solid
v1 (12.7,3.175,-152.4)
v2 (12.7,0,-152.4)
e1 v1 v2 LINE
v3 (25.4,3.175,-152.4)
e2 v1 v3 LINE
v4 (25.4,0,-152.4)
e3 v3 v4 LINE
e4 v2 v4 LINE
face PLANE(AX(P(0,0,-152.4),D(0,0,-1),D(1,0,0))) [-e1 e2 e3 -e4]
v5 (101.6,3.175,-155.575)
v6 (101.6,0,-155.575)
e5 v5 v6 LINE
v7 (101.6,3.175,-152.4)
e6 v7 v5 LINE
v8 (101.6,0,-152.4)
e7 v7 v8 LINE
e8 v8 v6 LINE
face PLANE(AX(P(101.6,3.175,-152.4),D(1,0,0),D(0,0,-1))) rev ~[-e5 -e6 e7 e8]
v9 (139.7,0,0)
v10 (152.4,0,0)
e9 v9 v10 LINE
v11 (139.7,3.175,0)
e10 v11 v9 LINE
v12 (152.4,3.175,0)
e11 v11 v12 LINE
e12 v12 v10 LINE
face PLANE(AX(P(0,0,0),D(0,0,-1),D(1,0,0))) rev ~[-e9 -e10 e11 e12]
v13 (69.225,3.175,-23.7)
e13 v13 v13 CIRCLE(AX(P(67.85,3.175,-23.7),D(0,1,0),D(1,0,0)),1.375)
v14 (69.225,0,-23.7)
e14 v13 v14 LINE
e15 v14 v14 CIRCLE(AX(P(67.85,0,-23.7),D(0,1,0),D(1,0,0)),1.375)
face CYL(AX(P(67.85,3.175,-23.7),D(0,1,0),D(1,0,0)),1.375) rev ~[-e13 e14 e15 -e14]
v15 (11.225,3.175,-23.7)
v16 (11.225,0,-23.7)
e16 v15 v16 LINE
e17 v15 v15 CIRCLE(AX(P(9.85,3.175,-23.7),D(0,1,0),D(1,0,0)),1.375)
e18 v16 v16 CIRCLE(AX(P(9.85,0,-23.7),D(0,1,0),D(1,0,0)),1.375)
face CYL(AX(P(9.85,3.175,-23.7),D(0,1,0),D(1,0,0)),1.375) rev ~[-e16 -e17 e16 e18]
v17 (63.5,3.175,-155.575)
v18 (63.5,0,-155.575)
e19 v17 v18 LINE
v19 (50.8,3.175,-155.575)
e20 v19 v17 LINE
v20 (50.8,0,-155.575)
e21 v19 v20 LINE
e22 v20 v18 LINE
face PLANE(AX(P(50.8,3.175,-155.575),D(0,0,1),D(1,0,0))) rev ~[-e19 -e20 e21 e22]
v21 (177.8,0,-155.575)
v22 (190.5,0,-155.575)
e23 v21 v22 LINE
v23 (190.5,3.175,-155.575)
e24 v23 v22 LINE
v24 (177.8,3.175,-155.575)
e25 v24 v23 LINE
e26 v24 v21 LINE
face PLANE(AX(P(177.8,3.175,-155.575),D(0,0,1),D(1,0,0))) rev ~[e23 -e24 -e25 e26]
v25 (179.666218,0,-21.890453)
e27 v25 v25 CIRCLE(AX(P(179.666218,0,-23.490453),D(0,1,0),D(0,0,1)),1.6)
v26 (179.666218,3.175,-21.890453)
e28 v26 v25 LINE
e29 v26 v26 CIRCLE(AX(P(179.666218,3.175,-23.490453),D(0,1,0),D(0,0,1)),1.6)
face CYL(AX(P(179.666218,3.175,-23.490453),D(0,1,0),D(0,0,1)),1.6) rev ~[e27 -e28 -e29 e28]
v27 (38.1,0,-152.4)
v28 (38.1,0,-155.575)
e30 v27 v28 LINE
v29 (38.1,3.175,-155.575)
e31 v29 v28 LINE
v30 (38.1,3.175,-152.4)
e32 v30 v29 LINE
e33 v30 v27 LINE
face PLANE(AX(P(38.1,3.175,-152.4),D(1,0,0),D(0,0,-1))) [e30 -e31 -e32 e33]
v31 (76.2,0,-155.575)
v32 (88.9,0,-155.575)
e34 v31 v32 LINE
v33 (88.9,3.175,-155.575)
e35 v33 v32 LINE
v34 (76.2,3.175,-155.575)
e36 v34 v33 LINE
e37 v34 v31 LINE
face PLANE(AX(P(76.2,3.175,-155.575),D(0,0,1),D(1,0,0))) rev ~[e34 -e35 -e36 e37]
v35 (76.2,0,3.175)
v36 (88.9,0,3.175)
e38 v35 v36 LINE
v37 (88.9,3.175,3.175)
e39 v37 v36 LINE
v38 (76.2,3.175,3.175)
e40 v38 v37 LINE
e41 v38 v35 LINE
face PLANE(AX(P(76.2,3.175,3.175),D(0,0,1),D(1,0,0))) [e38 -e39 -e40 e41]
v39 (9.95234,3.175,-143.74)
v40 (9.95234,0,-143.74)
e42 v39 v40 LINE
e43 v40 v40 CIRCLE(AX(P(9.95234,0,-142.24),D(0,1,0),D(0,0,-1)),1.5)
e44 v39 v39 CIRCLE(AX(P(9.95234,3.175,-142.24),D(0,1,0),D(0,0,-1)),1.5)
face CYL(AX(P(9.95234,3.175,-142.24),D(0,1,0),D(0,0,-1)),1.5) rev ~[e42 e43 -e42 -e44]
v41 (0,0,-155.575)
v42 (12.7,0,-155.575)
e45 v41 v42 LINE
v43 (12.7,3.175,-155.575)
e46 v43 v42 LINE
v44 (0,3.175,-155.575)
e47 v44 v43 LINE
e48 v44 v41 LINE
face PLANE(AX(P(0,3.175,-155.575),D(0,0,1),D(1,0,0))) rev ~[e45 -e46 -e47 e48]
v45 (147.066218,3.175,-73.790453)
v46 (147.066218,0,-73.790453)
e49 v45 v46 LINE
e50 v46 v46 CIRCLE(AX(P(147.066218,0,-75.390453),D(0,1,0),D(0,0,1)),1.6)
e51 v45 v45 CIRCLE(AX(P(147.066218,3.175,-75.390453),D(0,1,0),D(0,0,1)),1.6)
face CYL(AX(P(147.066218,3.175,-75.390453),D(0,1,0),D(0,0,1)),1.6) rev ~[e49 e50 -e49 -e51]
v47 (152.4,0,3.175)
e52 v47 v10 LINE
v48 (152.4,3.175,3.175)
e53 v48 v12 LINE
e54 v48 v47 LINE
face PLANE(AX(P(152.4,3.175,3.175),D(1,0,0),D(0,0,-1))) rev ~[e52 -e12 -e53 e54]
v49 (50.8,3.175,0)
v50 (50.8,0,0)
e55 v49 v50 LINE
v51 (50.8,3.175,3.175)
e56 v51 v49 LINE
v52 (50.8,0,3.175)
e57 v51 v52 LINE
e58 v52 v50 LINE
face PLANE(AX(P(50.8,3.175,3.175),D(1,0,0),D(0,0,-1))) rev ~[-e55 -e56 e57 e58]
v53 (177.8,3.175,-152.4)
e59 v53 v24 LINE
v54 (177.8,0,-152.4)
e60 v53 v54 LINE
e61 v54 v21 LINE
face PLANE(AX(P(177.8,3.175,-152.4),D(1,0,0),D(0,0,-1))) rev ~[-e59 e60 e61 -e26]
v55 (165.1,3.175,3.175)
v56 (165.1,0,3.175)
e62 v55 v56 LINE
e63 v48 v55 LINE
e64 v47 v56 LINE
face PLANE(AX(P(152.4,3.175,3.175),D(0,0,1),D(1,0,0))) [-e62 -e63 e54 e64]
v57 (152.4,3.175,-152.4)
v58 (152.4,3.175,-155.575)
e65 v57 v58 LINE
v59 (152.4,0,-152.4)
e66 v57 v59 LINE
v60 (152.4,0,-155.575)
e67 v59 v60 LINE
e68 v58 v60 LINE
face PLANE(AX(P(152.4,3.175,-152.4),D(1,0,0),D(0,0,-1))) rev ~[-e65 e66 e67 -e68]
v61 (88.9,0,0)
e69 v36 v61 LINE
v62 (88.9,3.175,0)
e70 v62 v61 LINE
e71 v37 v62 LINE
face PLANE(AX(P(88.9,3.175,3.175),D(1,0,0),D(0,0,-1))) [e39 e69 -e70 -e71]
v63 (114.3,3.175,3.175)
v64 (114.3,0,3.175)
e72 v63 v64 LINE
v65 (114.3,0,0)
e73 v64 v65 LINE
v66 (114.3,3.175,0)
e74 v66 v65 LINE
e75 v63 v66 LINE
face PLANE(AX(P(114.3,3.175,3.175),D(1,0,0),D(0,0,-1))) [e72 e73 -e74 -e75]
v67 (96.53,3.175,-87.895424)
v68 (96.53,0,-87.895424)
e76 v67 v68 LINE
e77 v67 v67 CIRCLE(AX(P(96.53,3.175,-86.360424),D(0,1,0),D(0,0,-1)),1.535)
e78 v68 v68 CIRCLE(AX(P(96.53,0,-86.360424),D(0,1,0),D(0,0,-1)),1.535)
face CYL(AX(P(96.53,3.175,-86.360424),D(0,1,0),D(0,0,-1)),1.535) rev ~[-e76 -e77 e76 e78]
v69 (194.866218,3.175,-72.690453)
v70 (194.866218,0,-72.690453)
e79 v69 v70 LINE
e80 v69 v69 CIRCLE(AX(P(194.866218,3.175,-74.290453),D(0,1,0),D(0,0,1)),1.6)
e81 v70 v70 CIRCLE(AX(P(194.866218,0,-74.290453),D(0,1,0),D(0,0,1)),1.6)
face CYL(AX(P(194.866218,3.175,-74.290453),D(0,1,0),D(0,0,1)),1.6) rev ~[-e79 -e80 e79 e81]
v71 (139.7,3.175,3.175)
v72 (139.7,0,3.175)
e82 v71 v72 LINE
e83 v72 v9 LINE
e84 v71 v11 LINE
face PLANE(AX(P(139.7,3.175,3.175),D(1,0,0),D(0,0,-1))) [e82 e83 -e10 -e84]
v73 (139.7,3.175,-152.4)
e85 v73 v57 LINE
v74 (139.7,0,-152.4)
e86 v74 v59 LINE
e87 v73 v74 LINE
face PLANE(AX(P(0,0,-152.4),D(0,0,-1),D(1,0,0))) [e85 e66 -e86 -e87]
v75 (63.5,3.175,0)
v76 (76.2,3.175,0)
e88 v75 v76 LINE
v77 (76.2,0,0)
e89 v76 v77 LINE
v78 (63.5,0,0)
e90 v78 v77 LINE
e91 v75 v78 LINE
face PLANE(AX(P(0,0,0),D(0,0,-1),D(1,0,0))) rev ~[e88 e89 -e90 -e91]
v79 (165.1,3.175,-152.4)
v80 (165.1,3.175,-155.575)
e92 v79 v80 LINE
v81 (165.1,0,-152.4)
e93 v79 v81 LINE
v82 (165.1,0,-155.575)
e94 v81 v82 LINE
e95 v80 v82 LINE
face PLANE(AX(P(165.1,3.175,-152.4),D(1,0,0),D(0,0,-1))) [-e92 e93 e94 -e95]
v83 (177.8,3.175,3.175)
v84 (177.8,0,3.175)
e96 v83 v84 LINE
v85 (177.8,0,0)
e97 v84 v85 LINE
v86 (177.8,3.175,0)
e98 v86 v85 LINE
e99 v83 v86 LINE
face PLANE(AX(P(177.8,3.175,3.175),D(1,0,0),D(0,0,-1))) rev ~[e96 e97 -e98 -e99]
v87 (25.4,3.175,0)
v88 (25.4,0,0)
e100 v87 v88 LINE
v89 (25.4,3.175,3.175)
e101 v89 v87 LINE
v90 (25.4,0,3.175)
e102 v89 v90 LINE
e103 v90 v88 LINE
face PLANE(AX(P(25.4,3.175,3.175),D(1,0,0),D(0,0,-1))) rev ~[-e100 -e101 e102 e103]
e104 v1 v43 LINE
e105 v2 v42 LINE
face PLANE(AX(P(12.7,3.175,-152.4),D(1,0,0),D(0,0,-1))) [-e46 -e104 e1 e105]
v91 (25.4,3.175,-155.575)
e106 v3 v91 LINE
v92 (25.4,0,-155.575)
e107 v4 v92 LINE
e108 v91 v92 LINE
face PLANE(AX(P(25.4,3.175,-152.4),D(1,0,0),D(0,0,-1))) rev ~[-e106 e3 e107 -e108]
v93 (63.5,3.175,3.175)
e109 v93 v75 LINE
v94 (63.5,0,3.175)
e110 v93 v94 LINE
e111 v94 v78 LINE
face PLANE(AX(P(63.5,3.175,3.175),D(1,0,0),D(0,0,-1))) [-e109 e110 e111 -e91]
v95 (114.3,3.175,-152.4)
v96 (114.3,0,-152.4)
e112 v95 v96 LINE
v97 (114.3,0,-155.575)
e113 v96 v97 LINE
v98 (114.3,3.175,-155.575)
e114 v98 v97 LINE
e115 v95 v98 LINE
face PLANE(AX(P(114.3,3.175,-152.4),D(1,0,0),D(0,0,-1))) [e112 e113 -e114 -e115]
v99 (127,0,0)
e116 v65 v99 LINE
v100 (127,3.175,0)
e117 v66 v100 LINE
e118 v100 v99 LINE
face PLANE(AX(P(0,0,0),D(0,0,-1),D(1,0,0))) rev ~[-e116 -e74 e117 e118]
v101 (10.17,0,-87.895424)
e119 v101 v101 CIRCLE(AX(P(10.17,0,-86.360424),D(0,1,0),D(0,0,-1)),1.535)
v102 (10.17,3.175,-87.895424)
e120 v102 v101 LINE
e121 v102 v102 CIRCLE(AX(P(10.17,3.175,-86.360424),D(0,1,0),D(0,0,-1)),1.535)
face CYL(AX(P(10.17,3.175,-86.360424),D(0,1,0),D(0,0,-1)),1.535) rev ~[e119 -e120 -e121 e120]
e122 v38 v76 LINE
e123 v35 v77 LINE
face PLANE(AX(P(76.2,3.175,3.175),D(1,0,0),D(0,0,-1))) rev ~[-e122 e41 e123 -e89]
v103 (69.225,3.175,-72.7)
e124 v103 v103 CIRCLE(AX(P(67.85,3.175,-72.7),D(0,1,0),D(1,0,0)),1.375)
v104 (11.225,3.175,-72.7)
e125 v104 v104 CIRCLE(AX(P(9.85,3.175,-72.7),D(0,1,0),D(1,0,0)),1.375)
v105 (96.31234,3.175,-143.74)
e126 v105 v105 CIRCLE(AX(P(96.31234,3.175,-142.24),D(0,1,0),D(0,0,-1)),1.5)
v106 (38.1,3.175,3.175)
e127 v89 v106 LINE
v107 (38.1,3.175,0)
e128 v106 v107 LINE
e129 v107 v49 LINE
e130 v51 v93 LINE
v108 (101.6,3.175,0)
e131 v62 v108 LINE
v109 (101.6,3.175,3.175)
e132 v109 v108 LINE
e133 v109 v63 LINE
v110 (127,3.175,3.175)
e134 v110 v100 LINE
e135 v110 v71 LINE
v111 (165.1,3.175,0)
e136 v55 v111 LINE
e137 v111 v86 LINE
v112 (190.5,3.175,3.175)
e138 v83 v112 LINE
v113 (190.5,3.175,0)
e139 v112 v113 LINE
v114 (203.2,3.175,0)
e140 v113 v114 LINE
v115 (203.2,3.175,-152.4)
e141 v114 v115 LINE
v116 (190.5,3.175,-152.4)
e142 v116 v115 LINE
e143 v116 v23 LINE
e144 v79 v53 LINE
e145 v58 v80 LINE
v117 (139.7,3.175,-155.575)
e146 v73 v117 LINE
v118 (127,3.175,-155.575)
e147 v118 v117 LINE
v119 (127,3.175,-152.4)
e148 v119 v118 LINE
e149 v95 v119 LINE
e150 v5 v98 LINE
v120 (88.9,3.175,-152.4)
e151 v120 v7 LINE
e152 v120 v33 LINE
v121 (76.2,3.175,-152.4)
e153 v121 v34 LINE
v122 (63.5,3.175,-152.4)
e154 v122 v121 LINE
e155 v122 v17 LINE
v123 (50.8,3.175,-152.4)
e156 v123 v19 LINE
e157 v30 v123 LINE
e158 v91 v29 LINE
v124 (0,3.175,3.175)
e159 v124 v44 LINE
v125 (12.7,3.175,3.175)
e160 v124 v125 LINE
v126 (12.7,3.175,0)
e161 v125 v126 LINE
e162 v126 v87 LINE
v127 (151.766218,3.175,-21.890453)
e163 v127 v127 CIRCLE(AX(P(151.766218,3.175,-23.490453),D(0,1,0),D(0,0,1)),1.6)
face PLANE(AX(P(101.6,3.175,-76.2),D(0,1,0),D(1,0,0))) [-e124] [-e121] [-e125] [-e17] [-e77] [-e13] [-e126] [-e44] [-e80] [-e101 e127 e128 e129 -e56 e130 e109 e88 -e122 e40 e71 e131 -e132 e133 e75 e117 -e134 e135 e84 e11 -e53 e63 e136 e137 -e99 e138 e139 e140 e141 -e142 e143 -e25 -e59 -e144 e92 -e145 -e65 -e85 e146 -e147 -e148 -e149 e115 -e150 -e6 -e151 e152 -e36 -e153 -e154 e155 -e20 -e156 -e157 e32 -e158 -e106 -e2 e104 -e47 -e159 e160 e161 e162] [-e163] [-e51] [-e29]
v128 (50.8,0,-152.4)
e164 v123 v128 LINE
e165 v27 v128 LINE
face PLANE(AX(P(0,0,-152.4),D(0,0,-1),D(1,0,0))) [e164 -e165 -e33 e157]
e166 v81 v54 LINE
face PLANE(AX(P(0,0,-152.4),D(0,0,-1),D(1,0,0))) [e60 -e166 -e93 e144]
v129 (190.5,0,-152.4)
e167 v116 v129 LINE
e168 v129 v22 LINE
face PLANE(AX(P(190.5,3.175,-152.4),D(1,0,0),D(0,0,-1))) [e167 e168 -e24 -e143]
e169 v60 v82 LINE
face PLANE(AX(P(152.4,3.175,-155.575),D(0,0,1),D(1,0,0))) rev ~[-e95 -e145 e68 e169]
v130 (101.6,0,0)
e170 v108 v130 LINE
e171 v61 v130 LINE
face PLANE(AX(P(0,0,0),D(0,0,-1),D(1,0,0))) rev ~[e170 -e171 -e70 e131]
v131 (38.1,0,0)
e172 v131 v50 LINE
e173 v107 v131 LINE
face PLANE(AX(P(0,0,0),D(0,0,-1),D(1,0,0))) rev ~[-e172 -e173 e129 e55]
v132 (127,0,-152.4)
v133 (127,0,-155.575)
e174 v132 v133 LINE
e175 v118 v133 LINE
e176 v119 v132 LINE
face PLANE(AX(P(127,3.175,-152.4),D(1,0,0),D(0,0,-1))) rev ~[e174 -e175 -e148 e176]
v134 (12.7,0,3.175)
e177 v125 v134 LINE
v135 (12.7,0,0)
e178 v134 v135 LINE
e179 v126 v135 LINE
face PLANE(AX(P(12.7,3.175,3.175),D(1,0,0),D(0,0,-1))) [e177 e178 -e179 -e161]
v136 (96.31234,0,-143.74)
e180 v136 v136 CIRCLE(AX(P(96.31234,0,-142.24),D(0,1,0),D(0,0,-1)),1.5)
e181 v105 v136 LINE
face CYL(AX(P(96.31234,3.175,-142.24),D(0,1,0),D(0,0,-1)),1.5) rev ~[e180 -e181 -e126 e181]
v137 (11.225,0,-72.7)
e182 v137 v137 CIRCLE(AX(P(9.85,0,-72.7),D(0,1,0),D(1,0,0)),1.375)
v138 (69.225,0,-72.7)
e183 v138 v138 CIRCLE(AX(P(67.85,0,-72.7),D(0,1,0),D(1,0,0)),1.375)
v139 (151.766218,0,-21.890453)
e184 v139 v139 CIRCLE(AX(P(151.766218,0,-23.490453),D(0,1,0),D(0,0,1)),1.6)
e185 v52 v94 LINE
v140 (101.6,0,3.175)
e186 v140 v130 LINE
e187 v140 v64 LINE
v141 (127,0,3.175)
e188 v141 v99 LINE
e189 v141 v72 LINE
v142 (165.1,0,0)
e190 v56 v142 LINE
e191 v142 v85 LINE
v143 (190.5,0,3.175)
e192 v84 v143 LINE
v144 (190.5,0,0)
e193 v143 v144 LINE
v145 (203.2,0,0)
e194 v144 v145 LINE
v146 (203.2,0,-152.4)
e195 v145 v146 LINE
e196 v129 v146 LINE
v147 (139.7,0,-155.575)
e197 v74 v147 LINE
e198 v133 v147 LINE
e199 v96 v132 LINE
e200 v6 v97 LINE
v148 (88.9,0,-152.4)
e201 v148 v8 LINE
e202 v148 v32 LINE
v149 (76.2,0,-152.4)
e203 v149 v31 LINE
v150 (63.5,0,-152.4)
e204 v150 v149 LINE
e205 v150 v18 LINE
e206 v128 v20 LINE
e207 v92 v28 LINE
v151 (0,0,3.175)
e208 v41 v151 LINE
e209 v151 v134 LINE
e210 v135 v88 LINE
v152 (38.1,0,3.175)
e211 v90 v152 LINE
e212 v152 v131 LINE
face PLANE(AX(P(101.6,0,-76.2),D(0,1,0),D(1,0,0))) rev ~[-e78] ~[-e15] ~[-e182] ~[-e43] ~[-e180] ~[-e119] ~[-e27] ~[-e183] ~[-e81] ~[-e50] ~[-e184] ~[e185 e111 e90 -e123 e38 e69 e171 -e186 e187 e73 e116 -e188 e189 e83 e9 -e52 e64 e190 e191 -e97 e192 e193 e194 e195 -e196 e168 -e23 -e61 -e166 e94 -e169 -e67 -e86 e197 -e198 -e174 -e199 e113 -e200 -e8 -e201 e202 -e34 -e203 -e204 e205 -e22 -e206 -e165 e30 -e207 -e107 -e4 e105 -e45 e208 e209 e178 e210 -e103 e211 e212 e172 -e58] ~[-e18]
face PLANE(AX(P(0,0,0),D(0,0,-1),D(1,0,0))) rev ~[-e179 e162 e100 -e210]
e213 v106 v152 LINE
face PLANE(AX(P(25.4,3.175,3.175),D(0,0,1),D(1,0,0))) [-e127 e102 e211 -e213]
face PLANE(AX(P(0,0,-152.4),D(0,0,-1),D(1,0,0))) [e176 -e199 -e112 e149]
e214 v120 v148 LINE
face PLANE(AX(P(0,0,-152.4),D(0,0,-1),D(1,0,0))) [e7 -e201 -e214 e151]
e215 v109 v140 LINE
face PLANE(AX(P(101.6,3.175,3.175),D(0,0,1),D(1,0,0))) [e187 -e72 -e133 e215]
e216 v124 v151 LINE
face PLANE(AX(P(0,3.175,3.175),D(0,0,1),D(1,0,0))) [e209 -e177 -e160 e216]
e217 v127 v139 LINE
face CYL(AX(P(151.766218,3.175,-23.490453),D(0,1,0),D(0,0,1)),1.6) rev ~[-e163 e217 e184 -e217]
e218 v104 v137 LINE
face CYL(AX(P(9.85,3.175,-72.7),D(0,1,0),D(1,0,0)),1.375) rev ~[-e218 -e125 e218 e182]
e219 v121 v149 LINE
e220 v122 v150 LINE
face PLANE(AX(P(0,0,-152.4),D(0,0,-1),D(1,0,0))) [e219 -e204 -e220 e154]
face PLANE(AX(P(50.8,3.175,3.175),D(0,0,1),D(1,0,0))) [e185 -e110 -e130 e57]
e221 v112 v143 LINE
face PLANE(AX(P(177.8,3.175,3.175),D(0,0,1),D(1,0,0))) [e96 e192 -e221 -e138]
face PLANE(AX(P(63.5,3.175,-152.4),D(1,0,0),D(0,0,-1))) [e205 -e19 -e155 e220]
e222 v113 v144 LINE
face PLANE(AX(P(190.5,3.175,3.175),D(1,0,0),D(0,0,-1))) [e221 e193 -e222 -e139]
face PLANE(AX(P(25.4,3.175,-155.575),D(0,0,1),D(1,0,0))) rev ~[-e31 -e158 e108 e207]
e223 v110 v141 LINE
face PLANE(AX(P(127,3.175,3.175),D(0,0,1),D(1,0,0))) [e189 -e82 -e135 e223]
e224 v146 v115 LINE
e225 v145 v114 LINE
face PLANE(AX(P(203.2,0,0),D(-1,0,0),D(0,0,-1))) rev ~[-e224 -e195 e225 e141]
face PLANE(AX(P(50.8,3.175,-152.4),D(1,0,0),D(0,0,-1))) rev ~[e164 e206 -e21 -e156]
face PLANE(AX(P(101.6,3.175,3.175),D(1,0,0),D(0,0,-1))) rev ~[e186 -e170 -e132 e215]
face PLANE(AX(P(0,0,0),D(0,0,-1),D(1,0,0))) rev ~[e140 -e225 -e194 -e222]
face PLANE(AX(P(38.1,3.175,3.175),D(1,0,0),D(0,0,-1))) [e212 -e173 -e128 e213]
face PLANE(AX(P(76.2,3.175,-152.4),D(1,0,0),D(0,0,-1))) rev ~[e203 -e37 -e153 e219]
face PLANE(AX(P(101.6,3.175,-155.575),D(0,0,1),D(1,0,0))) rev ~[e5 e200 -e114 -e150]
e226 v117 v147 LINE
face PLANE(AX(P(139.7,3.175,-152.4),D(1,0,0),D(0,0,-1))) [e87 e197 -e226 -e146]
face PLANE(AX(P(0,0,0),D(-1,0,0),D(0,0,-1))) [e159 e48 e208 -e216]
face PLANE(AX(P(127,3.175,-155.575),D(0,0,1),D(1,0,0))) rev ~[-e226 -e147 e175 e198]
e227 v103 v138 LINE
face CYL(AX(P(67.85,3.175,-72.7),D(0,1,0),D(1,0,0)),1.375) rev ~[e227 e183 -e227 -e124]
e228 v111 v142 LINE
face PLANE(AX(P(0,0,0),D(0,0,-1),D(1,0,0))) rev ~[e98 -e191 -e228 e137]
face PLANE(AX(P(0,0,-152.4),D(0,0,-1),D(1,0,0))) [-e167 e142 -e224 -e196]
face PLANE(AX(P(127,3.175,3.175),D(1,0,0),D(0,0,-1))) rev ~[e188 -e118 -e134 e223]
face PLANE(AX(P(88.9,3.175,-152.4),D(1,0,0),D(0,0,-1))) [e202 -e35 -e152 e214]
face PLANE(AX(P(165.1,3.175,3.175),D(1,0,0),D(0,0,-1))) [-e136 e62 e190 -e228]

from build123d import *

# Parameters (mm, degrees)
SKETCH1_W               = 203.2
SKETCH1_H               = 152.4
BOSS_EXTRUDE1_DEPTH     = 3.175
SKETCH2_W               = 12.7
SKETCH2_H               = 3.175
BOSS_EXTRUDE2_DEPTH     = 3.175
BOSS_EXTRUDE2_2_DEPTH   = 3.175
BOSS_EXTRUDE2_3_DEPTH   = 3.175
BOSS_EXTRUDE2_4_DEPTH   = 3.175
BOSS_EXTRUDE2_5_DEPTH   = 3.175
BOSS_EXTRUDE2_6_DEPTH   = 3.175
BOSS_EXTRUDE2_7_DEPTH   = 3.175
BOSS_EXTRUDE2_8_DEPTH   = 3.175
BOSS_EXTRUDE2_9_DEPTH   = 3.175
BOSS_EXTRUDE2_10_DEPTH  = 3.175
BOSS_EXTRUDE2_11_DEPTH  = 3.175
BOSS_EXTRUDE2_12_DEPTH  = 3.175
BOSS_EXTRUDE2_13_DEPTH  = 3.175
BOSS_EXTRUDE2_14_DEPTH  = 3.175
BOSS_EXTRUDE2_15_DEPTH  = 3.175
BOSS_EXTRUDE2_16_DEPTH  = 3.175
SKETCH4_R               = 1.375
CUT_EXTRUDE1_DEPTH      = 4.175
SKETCH5_R               = 1.6
CUT_EXTRUDE2_DEPTH      = 4.175
SKETCH10_R              = 1.535
SKETCH10_R_2            = 1.5
CUT_EXTRUDE3_DEPTH      = 1
CUT_EXTRUDE3_DEPTH_BACK = 4.175


with BuildPart() as part:
    # Sketch1 → Boss-Extrude1 (new body)
    with BuildSketch(Plane(origin=(0, 0, 0), x_dir=(1, 0, 0), z_dir=(0, 1, 0))):
        with Locations((101.6, 76.2)):
            Rectangle(SKETCH1_W, SKETCH1_H)
    extrude(amount=BOSS_EXTRUDE1_DEPTH)

    # Sketch4 → Cut-Extrude1 (cut, through all)
    with BuildSketch(Plane(origin=(-65.618517222, 3.175, -114.528898402), x_dir=(1, 0, 0), z_dir=(0, 1, 0))):
        with Locations((75.468517222, -41.828898402)):
            Circle(SKETCH4_R)
        with Locations((75.468517222, -90.828898402)):
            Circle(SKETCH4_R)
        with Locations((133.468517222, -90.828898402)):
            Circle(SKETCH4_R)
        with Locations((133.468517222, -41.828898402)):
            Circle(SKETCH4_R)
    extrude(amount=-CUT_EXTRUDE1_DEPTH, mode=Mode.SUBTRACT)

    # Sketch5 → Cut-Extrude2 (cut, through all)
    with BuildSketch(Plane(origin=(-58.332709996, 3.175, -175.865858612), x_dir=(0, 0, 1), z_dir=(0, 1, 0))):
        with Locations((100.475405858, 205.398928035)):
            Circle(SKETCH5_R)
        with Locations((101.575405858, 253.198928035)):
            Circle(SKETCH5_R)
        with Locations((152.375405858, 210.098928035)):
            Circle(SKETCH5_R)
        with Locations((152.375405858, 237.998928035)):
            Circle(SKETCH5_R)
    extrude(amount=-CUT_EXTRUDE2_DEPTH, mode=Mode.SUBTRACT)

    # Sketch10 → Cut-Extrude3 (cut, two sides)
    with BuildSketch(Plane(origin=(154.738240667, 3.175, -89.784200023), x_dir=(0, 0, -1), z_dir=(0, 1, 0))) as cut_extrude3_sk:
        with Locations((-3.423776116, 144.568240667)):
            Circle(SKETCH10_R)
        with Locations((52.455799977, 144.785900219)):
            Circle(SKETCH10_R_2)
        with Locations((-3.423776116, 58.208240667)):
            Circle(SKETCH10_R)
        with Locations((52.455799977, 58.425900219)):
            Circle(SKETCH10_R_2)
    extrude(amount=CUT_EXTRUDE3_DEPTH, mode=Mode.SUBTRACT)
    extrude(cut_extrude3_sk.sketch, amount=-CUT_EXTRUDE3_DEPTH_BACK, mode=Mode.SUBTRACT)


with BuildPart() as body_2:
    # Sketch2 → Boss-Extrude2 (new body)
    with BuildSketch(Plane(origin=(0, 3.175, 0), x_dir=(1, 0, 0), z_dir=(0, 1, 0))):
        with Locations((31.75, -1.5875)):
            Rectangle(SKETCH2_W, SKETCH2_H)
    extrude(amount=-BOSS_EXTRUDE2_DEPTH)


with BuildPart() as body_3:
    # Sketch2 → Boss-Extrude2 2 (new body)
    with BuildSketch(Plane(origin=(0, 3.175, 0), x_dir=(1, 0, 0), z_dir=(0, 1, 0))):
        with Locations((6.35, -1.5875)):
            Rectangle(SKETCH2_W, SKETCH2_H)
    extrude(amount=-BOSS_EXTRUDE2_2_DEPTH)


with BuildPart() as body_4:
    # Sketch2 → Boss-Extrude2 3 (new body)
    with BuildSketch(Plane(origin=(0, 3.175, 0), x_dir=(1, 0, 0), z_dir=(0, 1, 0))):
        with Locations((57.15, -1.5875)):
            Rectangle(SKETCH2_W, SKETCH2_H)
    extrude(amount=-BOSS_EXTRUDE2_3_DEPTH)


with BuildPart() as body_5:
    # Sketch2 → Boss-Extrude2 4 (new body)
    with BuildSketch(Plane(origin=(0, 3.175, 0), x_dir=(1, 0, 0), z_dir=(0, 1, 0))):
        with Locations((82.55, -1.5875)):
            Rectangle(SKETCH2_W, SKETCH2_H)
    extrude(amount=-BOSS_EXTRUDE2_4_DEPTH)


with BuildPart() as body_6:
    # Sketch2 → Boss-Extrude2 5 (new body)
    with BuildSketch(Plane(origin=(0, 3.175, 0), x_dir=(1, 0, 0), z_dir=(0, 1, 0))):
        with Locations((107.95, -1.5875)):
            Rectangle(SKETCH2_W, SKETCH2_H)
    extrude(amount=-BOSS_EXTRUDE2_5_DEPTH)


with BuildPart() as body_7:
    # Sketch2 → Boss-Extrude2 6 (new body)
    with BuildSketch(Plane(origin=(0, 3.175, 0), x_dir=(1, 0, 0), z_dir=(0, 1, 0))):
        with Locations((133.35, -1.5875)):
            Rectangle(SKETCH2_W, SKETCH2_H)
    extrude(amount=-BOSS_EXTRUDE2_6_DEPTH)


with BuildPart() as body_8:
    # Sketch2 → Boss-Extrude2 7 (new body)
    with BuildSketch(Plane(origin=(0, 3.175, 0), x_dir=(1, 0, 0), z_dir=(0, 1, 0))):
        with Locations((158.75, -1.5875)):
            Rectangle(SKETCH2_W, SKETCH2_H)
    extrude(amount=-BOSS_EXTRUDE2_7_DEPTH)


with BuildPart() as body_9:
    # Sketch2 → Boss-Extrude2 8 (new body)
    with BuildSketch(Plane(origin=(0, 3.175, 0), x_dir=(1, 0, 0), z_dir=(0, 1, 0))):
        with Locations((184.15, -1.5875)):
            Rectangle(SKETCH2_W, SKETCH2_H)
    extrude(amount=-BOSS_EXTRUDE2_8_DEPTH)


with BuildPart() as body_10:
    # Sketch2 → Boss-Extrude2 9 (new body)
    with BuildSketch(Plane(origin=(0, 3.175, 0), x_dir=(1, 0, 0), z_dir=(0, 1, 0))):
        with Locations((184.15, 153.9875)):
            Rectangle(SKETCH2_W, SKETCH2_H)
    extrude(amount=-BOSS_EXTRUDE2_9_DEPTH)


with BuildPart() as body_11:
    # Sketch2 → Boss-Extrude2 10 (new body)
    with BuildSketch(Plane(origin=(0, 3.175, 0), x_dir=(1, 0, 0), z_dir=(0, 1, 0))):
        with Locations((158.75, 153.9875)):
            Rectangle(SKETCH2_W, SKETCH2_H)
    extrude(amount=-BOSS_EXTRUDE2_10_DEPTH)


with BuildPart() as body_12:
    # Sketch2 → Boss-Extrude2 11 (new body)
    with BuildSketch(Plane(origin=(0, 3.175, 0), x_dir=(1, 0, 0), z_dir=(0, 1, 0))):
        with Locations((133.35, 153.9875)):
            Rectangle(SKETCH2_W, SKETCH2_H)
    extrude(amount=-BOSS_EXTRUDE2_11_DEPTH)


with BuildPart() as body_13:
    # Sketch2 → Boss-Extrude2 12 (new body)
    with BuildSketch(Plane(origin=(0, 3.175, 0), x_dir=(1, 0, 0), z_dir=(0, 1, 0))):
        with Locations((107.95, 153.9875)):
            Rectangle(SKETCH2_W, SKETCH2_H)
    extrude(amount=-BOSS_EXTRUDE2_12_DEPTH)


with BuildPart() as body_14:
    # Sketch2 → Boss-Extrude2 13 (new body)
    with BuildSketch(Plane(origin=(0, 3.175, 0), x_dir=(1, 0, 0), z_dir=(0, 1, 0))):
        with Locations((82.55, 153.9875)):
            Rectangle(SKETCH2_W, SKETCH2_H)
    extrude(amount=-BOSS_EXTRUDE2_13_DEPTH)


with BuildPart() as body_15:
    # Sketch2 → Boss-Extrude2 14 (new body)
    with BuildSketch(Plane(origin=(0, 3.175, 0), x_dir=(1, 0, 0), z_dir=(0, 1, 0))):
        with Locations((57.15, 153.9875)):
            Rectangle(SKETCH2_W, SKETCH2_H)
    extrude(amount=-BOSS_EXTRUDE2_14_DEPTH)


with BuildPart() as body_16:
    # Sketch2 → Boss-Extrude2 15 (new body)
    with BuildSketch(Plane(origin=(0, 3.175, 0), x_dir=(1, 0, 0), z_dir=(0, 1, 0))):
        with Locations((31.75, 153.9875)):
            Rectangle(SKETCH2_W, SKETCH2_H)
    extrude(amount=-BOSS_EXTRUDE2_15_DEPTH)


with BuildPart() as body_17:
    # Sketch2 → Boss-Extrude2 16 (new body)
    with BuildSketch(Plane(origin=(0, 3.175, 0), x_dir=(1, 0, 0), z_dir=(0, 1, 0))):
        with Locations((6.35, 153.9875)):
            Rectangle(SKETCH2_W, SKETCH2_H)
    extrude(amount=-BOSS_EXTRUDE2_16_DEPTH)


with BuildPart() as body_3_1:
    add(body_3.part)

    # Combine1: union body 4, body 6, body 8, body 10, body 12, body 14, body 16, body 17, part, body 2, body 5, body 7, body 9, body 11, body 13, body 15
    add(body_4.part)
    add(body_6.part)
    add(body_8.part)
    add(body_10.part)
    add(body_12.part)
    add(body_14.part)
    add(body_16.part)
    add(body_17.part)
    add(part.part)
    add(body_2.part)
    add(body_5.part)
    add(body_7.part)
    add(body_9.part)
    add(body_11.part)
    add(body_13.part)
    add(body_15.part)


solid = body_3_1.part
